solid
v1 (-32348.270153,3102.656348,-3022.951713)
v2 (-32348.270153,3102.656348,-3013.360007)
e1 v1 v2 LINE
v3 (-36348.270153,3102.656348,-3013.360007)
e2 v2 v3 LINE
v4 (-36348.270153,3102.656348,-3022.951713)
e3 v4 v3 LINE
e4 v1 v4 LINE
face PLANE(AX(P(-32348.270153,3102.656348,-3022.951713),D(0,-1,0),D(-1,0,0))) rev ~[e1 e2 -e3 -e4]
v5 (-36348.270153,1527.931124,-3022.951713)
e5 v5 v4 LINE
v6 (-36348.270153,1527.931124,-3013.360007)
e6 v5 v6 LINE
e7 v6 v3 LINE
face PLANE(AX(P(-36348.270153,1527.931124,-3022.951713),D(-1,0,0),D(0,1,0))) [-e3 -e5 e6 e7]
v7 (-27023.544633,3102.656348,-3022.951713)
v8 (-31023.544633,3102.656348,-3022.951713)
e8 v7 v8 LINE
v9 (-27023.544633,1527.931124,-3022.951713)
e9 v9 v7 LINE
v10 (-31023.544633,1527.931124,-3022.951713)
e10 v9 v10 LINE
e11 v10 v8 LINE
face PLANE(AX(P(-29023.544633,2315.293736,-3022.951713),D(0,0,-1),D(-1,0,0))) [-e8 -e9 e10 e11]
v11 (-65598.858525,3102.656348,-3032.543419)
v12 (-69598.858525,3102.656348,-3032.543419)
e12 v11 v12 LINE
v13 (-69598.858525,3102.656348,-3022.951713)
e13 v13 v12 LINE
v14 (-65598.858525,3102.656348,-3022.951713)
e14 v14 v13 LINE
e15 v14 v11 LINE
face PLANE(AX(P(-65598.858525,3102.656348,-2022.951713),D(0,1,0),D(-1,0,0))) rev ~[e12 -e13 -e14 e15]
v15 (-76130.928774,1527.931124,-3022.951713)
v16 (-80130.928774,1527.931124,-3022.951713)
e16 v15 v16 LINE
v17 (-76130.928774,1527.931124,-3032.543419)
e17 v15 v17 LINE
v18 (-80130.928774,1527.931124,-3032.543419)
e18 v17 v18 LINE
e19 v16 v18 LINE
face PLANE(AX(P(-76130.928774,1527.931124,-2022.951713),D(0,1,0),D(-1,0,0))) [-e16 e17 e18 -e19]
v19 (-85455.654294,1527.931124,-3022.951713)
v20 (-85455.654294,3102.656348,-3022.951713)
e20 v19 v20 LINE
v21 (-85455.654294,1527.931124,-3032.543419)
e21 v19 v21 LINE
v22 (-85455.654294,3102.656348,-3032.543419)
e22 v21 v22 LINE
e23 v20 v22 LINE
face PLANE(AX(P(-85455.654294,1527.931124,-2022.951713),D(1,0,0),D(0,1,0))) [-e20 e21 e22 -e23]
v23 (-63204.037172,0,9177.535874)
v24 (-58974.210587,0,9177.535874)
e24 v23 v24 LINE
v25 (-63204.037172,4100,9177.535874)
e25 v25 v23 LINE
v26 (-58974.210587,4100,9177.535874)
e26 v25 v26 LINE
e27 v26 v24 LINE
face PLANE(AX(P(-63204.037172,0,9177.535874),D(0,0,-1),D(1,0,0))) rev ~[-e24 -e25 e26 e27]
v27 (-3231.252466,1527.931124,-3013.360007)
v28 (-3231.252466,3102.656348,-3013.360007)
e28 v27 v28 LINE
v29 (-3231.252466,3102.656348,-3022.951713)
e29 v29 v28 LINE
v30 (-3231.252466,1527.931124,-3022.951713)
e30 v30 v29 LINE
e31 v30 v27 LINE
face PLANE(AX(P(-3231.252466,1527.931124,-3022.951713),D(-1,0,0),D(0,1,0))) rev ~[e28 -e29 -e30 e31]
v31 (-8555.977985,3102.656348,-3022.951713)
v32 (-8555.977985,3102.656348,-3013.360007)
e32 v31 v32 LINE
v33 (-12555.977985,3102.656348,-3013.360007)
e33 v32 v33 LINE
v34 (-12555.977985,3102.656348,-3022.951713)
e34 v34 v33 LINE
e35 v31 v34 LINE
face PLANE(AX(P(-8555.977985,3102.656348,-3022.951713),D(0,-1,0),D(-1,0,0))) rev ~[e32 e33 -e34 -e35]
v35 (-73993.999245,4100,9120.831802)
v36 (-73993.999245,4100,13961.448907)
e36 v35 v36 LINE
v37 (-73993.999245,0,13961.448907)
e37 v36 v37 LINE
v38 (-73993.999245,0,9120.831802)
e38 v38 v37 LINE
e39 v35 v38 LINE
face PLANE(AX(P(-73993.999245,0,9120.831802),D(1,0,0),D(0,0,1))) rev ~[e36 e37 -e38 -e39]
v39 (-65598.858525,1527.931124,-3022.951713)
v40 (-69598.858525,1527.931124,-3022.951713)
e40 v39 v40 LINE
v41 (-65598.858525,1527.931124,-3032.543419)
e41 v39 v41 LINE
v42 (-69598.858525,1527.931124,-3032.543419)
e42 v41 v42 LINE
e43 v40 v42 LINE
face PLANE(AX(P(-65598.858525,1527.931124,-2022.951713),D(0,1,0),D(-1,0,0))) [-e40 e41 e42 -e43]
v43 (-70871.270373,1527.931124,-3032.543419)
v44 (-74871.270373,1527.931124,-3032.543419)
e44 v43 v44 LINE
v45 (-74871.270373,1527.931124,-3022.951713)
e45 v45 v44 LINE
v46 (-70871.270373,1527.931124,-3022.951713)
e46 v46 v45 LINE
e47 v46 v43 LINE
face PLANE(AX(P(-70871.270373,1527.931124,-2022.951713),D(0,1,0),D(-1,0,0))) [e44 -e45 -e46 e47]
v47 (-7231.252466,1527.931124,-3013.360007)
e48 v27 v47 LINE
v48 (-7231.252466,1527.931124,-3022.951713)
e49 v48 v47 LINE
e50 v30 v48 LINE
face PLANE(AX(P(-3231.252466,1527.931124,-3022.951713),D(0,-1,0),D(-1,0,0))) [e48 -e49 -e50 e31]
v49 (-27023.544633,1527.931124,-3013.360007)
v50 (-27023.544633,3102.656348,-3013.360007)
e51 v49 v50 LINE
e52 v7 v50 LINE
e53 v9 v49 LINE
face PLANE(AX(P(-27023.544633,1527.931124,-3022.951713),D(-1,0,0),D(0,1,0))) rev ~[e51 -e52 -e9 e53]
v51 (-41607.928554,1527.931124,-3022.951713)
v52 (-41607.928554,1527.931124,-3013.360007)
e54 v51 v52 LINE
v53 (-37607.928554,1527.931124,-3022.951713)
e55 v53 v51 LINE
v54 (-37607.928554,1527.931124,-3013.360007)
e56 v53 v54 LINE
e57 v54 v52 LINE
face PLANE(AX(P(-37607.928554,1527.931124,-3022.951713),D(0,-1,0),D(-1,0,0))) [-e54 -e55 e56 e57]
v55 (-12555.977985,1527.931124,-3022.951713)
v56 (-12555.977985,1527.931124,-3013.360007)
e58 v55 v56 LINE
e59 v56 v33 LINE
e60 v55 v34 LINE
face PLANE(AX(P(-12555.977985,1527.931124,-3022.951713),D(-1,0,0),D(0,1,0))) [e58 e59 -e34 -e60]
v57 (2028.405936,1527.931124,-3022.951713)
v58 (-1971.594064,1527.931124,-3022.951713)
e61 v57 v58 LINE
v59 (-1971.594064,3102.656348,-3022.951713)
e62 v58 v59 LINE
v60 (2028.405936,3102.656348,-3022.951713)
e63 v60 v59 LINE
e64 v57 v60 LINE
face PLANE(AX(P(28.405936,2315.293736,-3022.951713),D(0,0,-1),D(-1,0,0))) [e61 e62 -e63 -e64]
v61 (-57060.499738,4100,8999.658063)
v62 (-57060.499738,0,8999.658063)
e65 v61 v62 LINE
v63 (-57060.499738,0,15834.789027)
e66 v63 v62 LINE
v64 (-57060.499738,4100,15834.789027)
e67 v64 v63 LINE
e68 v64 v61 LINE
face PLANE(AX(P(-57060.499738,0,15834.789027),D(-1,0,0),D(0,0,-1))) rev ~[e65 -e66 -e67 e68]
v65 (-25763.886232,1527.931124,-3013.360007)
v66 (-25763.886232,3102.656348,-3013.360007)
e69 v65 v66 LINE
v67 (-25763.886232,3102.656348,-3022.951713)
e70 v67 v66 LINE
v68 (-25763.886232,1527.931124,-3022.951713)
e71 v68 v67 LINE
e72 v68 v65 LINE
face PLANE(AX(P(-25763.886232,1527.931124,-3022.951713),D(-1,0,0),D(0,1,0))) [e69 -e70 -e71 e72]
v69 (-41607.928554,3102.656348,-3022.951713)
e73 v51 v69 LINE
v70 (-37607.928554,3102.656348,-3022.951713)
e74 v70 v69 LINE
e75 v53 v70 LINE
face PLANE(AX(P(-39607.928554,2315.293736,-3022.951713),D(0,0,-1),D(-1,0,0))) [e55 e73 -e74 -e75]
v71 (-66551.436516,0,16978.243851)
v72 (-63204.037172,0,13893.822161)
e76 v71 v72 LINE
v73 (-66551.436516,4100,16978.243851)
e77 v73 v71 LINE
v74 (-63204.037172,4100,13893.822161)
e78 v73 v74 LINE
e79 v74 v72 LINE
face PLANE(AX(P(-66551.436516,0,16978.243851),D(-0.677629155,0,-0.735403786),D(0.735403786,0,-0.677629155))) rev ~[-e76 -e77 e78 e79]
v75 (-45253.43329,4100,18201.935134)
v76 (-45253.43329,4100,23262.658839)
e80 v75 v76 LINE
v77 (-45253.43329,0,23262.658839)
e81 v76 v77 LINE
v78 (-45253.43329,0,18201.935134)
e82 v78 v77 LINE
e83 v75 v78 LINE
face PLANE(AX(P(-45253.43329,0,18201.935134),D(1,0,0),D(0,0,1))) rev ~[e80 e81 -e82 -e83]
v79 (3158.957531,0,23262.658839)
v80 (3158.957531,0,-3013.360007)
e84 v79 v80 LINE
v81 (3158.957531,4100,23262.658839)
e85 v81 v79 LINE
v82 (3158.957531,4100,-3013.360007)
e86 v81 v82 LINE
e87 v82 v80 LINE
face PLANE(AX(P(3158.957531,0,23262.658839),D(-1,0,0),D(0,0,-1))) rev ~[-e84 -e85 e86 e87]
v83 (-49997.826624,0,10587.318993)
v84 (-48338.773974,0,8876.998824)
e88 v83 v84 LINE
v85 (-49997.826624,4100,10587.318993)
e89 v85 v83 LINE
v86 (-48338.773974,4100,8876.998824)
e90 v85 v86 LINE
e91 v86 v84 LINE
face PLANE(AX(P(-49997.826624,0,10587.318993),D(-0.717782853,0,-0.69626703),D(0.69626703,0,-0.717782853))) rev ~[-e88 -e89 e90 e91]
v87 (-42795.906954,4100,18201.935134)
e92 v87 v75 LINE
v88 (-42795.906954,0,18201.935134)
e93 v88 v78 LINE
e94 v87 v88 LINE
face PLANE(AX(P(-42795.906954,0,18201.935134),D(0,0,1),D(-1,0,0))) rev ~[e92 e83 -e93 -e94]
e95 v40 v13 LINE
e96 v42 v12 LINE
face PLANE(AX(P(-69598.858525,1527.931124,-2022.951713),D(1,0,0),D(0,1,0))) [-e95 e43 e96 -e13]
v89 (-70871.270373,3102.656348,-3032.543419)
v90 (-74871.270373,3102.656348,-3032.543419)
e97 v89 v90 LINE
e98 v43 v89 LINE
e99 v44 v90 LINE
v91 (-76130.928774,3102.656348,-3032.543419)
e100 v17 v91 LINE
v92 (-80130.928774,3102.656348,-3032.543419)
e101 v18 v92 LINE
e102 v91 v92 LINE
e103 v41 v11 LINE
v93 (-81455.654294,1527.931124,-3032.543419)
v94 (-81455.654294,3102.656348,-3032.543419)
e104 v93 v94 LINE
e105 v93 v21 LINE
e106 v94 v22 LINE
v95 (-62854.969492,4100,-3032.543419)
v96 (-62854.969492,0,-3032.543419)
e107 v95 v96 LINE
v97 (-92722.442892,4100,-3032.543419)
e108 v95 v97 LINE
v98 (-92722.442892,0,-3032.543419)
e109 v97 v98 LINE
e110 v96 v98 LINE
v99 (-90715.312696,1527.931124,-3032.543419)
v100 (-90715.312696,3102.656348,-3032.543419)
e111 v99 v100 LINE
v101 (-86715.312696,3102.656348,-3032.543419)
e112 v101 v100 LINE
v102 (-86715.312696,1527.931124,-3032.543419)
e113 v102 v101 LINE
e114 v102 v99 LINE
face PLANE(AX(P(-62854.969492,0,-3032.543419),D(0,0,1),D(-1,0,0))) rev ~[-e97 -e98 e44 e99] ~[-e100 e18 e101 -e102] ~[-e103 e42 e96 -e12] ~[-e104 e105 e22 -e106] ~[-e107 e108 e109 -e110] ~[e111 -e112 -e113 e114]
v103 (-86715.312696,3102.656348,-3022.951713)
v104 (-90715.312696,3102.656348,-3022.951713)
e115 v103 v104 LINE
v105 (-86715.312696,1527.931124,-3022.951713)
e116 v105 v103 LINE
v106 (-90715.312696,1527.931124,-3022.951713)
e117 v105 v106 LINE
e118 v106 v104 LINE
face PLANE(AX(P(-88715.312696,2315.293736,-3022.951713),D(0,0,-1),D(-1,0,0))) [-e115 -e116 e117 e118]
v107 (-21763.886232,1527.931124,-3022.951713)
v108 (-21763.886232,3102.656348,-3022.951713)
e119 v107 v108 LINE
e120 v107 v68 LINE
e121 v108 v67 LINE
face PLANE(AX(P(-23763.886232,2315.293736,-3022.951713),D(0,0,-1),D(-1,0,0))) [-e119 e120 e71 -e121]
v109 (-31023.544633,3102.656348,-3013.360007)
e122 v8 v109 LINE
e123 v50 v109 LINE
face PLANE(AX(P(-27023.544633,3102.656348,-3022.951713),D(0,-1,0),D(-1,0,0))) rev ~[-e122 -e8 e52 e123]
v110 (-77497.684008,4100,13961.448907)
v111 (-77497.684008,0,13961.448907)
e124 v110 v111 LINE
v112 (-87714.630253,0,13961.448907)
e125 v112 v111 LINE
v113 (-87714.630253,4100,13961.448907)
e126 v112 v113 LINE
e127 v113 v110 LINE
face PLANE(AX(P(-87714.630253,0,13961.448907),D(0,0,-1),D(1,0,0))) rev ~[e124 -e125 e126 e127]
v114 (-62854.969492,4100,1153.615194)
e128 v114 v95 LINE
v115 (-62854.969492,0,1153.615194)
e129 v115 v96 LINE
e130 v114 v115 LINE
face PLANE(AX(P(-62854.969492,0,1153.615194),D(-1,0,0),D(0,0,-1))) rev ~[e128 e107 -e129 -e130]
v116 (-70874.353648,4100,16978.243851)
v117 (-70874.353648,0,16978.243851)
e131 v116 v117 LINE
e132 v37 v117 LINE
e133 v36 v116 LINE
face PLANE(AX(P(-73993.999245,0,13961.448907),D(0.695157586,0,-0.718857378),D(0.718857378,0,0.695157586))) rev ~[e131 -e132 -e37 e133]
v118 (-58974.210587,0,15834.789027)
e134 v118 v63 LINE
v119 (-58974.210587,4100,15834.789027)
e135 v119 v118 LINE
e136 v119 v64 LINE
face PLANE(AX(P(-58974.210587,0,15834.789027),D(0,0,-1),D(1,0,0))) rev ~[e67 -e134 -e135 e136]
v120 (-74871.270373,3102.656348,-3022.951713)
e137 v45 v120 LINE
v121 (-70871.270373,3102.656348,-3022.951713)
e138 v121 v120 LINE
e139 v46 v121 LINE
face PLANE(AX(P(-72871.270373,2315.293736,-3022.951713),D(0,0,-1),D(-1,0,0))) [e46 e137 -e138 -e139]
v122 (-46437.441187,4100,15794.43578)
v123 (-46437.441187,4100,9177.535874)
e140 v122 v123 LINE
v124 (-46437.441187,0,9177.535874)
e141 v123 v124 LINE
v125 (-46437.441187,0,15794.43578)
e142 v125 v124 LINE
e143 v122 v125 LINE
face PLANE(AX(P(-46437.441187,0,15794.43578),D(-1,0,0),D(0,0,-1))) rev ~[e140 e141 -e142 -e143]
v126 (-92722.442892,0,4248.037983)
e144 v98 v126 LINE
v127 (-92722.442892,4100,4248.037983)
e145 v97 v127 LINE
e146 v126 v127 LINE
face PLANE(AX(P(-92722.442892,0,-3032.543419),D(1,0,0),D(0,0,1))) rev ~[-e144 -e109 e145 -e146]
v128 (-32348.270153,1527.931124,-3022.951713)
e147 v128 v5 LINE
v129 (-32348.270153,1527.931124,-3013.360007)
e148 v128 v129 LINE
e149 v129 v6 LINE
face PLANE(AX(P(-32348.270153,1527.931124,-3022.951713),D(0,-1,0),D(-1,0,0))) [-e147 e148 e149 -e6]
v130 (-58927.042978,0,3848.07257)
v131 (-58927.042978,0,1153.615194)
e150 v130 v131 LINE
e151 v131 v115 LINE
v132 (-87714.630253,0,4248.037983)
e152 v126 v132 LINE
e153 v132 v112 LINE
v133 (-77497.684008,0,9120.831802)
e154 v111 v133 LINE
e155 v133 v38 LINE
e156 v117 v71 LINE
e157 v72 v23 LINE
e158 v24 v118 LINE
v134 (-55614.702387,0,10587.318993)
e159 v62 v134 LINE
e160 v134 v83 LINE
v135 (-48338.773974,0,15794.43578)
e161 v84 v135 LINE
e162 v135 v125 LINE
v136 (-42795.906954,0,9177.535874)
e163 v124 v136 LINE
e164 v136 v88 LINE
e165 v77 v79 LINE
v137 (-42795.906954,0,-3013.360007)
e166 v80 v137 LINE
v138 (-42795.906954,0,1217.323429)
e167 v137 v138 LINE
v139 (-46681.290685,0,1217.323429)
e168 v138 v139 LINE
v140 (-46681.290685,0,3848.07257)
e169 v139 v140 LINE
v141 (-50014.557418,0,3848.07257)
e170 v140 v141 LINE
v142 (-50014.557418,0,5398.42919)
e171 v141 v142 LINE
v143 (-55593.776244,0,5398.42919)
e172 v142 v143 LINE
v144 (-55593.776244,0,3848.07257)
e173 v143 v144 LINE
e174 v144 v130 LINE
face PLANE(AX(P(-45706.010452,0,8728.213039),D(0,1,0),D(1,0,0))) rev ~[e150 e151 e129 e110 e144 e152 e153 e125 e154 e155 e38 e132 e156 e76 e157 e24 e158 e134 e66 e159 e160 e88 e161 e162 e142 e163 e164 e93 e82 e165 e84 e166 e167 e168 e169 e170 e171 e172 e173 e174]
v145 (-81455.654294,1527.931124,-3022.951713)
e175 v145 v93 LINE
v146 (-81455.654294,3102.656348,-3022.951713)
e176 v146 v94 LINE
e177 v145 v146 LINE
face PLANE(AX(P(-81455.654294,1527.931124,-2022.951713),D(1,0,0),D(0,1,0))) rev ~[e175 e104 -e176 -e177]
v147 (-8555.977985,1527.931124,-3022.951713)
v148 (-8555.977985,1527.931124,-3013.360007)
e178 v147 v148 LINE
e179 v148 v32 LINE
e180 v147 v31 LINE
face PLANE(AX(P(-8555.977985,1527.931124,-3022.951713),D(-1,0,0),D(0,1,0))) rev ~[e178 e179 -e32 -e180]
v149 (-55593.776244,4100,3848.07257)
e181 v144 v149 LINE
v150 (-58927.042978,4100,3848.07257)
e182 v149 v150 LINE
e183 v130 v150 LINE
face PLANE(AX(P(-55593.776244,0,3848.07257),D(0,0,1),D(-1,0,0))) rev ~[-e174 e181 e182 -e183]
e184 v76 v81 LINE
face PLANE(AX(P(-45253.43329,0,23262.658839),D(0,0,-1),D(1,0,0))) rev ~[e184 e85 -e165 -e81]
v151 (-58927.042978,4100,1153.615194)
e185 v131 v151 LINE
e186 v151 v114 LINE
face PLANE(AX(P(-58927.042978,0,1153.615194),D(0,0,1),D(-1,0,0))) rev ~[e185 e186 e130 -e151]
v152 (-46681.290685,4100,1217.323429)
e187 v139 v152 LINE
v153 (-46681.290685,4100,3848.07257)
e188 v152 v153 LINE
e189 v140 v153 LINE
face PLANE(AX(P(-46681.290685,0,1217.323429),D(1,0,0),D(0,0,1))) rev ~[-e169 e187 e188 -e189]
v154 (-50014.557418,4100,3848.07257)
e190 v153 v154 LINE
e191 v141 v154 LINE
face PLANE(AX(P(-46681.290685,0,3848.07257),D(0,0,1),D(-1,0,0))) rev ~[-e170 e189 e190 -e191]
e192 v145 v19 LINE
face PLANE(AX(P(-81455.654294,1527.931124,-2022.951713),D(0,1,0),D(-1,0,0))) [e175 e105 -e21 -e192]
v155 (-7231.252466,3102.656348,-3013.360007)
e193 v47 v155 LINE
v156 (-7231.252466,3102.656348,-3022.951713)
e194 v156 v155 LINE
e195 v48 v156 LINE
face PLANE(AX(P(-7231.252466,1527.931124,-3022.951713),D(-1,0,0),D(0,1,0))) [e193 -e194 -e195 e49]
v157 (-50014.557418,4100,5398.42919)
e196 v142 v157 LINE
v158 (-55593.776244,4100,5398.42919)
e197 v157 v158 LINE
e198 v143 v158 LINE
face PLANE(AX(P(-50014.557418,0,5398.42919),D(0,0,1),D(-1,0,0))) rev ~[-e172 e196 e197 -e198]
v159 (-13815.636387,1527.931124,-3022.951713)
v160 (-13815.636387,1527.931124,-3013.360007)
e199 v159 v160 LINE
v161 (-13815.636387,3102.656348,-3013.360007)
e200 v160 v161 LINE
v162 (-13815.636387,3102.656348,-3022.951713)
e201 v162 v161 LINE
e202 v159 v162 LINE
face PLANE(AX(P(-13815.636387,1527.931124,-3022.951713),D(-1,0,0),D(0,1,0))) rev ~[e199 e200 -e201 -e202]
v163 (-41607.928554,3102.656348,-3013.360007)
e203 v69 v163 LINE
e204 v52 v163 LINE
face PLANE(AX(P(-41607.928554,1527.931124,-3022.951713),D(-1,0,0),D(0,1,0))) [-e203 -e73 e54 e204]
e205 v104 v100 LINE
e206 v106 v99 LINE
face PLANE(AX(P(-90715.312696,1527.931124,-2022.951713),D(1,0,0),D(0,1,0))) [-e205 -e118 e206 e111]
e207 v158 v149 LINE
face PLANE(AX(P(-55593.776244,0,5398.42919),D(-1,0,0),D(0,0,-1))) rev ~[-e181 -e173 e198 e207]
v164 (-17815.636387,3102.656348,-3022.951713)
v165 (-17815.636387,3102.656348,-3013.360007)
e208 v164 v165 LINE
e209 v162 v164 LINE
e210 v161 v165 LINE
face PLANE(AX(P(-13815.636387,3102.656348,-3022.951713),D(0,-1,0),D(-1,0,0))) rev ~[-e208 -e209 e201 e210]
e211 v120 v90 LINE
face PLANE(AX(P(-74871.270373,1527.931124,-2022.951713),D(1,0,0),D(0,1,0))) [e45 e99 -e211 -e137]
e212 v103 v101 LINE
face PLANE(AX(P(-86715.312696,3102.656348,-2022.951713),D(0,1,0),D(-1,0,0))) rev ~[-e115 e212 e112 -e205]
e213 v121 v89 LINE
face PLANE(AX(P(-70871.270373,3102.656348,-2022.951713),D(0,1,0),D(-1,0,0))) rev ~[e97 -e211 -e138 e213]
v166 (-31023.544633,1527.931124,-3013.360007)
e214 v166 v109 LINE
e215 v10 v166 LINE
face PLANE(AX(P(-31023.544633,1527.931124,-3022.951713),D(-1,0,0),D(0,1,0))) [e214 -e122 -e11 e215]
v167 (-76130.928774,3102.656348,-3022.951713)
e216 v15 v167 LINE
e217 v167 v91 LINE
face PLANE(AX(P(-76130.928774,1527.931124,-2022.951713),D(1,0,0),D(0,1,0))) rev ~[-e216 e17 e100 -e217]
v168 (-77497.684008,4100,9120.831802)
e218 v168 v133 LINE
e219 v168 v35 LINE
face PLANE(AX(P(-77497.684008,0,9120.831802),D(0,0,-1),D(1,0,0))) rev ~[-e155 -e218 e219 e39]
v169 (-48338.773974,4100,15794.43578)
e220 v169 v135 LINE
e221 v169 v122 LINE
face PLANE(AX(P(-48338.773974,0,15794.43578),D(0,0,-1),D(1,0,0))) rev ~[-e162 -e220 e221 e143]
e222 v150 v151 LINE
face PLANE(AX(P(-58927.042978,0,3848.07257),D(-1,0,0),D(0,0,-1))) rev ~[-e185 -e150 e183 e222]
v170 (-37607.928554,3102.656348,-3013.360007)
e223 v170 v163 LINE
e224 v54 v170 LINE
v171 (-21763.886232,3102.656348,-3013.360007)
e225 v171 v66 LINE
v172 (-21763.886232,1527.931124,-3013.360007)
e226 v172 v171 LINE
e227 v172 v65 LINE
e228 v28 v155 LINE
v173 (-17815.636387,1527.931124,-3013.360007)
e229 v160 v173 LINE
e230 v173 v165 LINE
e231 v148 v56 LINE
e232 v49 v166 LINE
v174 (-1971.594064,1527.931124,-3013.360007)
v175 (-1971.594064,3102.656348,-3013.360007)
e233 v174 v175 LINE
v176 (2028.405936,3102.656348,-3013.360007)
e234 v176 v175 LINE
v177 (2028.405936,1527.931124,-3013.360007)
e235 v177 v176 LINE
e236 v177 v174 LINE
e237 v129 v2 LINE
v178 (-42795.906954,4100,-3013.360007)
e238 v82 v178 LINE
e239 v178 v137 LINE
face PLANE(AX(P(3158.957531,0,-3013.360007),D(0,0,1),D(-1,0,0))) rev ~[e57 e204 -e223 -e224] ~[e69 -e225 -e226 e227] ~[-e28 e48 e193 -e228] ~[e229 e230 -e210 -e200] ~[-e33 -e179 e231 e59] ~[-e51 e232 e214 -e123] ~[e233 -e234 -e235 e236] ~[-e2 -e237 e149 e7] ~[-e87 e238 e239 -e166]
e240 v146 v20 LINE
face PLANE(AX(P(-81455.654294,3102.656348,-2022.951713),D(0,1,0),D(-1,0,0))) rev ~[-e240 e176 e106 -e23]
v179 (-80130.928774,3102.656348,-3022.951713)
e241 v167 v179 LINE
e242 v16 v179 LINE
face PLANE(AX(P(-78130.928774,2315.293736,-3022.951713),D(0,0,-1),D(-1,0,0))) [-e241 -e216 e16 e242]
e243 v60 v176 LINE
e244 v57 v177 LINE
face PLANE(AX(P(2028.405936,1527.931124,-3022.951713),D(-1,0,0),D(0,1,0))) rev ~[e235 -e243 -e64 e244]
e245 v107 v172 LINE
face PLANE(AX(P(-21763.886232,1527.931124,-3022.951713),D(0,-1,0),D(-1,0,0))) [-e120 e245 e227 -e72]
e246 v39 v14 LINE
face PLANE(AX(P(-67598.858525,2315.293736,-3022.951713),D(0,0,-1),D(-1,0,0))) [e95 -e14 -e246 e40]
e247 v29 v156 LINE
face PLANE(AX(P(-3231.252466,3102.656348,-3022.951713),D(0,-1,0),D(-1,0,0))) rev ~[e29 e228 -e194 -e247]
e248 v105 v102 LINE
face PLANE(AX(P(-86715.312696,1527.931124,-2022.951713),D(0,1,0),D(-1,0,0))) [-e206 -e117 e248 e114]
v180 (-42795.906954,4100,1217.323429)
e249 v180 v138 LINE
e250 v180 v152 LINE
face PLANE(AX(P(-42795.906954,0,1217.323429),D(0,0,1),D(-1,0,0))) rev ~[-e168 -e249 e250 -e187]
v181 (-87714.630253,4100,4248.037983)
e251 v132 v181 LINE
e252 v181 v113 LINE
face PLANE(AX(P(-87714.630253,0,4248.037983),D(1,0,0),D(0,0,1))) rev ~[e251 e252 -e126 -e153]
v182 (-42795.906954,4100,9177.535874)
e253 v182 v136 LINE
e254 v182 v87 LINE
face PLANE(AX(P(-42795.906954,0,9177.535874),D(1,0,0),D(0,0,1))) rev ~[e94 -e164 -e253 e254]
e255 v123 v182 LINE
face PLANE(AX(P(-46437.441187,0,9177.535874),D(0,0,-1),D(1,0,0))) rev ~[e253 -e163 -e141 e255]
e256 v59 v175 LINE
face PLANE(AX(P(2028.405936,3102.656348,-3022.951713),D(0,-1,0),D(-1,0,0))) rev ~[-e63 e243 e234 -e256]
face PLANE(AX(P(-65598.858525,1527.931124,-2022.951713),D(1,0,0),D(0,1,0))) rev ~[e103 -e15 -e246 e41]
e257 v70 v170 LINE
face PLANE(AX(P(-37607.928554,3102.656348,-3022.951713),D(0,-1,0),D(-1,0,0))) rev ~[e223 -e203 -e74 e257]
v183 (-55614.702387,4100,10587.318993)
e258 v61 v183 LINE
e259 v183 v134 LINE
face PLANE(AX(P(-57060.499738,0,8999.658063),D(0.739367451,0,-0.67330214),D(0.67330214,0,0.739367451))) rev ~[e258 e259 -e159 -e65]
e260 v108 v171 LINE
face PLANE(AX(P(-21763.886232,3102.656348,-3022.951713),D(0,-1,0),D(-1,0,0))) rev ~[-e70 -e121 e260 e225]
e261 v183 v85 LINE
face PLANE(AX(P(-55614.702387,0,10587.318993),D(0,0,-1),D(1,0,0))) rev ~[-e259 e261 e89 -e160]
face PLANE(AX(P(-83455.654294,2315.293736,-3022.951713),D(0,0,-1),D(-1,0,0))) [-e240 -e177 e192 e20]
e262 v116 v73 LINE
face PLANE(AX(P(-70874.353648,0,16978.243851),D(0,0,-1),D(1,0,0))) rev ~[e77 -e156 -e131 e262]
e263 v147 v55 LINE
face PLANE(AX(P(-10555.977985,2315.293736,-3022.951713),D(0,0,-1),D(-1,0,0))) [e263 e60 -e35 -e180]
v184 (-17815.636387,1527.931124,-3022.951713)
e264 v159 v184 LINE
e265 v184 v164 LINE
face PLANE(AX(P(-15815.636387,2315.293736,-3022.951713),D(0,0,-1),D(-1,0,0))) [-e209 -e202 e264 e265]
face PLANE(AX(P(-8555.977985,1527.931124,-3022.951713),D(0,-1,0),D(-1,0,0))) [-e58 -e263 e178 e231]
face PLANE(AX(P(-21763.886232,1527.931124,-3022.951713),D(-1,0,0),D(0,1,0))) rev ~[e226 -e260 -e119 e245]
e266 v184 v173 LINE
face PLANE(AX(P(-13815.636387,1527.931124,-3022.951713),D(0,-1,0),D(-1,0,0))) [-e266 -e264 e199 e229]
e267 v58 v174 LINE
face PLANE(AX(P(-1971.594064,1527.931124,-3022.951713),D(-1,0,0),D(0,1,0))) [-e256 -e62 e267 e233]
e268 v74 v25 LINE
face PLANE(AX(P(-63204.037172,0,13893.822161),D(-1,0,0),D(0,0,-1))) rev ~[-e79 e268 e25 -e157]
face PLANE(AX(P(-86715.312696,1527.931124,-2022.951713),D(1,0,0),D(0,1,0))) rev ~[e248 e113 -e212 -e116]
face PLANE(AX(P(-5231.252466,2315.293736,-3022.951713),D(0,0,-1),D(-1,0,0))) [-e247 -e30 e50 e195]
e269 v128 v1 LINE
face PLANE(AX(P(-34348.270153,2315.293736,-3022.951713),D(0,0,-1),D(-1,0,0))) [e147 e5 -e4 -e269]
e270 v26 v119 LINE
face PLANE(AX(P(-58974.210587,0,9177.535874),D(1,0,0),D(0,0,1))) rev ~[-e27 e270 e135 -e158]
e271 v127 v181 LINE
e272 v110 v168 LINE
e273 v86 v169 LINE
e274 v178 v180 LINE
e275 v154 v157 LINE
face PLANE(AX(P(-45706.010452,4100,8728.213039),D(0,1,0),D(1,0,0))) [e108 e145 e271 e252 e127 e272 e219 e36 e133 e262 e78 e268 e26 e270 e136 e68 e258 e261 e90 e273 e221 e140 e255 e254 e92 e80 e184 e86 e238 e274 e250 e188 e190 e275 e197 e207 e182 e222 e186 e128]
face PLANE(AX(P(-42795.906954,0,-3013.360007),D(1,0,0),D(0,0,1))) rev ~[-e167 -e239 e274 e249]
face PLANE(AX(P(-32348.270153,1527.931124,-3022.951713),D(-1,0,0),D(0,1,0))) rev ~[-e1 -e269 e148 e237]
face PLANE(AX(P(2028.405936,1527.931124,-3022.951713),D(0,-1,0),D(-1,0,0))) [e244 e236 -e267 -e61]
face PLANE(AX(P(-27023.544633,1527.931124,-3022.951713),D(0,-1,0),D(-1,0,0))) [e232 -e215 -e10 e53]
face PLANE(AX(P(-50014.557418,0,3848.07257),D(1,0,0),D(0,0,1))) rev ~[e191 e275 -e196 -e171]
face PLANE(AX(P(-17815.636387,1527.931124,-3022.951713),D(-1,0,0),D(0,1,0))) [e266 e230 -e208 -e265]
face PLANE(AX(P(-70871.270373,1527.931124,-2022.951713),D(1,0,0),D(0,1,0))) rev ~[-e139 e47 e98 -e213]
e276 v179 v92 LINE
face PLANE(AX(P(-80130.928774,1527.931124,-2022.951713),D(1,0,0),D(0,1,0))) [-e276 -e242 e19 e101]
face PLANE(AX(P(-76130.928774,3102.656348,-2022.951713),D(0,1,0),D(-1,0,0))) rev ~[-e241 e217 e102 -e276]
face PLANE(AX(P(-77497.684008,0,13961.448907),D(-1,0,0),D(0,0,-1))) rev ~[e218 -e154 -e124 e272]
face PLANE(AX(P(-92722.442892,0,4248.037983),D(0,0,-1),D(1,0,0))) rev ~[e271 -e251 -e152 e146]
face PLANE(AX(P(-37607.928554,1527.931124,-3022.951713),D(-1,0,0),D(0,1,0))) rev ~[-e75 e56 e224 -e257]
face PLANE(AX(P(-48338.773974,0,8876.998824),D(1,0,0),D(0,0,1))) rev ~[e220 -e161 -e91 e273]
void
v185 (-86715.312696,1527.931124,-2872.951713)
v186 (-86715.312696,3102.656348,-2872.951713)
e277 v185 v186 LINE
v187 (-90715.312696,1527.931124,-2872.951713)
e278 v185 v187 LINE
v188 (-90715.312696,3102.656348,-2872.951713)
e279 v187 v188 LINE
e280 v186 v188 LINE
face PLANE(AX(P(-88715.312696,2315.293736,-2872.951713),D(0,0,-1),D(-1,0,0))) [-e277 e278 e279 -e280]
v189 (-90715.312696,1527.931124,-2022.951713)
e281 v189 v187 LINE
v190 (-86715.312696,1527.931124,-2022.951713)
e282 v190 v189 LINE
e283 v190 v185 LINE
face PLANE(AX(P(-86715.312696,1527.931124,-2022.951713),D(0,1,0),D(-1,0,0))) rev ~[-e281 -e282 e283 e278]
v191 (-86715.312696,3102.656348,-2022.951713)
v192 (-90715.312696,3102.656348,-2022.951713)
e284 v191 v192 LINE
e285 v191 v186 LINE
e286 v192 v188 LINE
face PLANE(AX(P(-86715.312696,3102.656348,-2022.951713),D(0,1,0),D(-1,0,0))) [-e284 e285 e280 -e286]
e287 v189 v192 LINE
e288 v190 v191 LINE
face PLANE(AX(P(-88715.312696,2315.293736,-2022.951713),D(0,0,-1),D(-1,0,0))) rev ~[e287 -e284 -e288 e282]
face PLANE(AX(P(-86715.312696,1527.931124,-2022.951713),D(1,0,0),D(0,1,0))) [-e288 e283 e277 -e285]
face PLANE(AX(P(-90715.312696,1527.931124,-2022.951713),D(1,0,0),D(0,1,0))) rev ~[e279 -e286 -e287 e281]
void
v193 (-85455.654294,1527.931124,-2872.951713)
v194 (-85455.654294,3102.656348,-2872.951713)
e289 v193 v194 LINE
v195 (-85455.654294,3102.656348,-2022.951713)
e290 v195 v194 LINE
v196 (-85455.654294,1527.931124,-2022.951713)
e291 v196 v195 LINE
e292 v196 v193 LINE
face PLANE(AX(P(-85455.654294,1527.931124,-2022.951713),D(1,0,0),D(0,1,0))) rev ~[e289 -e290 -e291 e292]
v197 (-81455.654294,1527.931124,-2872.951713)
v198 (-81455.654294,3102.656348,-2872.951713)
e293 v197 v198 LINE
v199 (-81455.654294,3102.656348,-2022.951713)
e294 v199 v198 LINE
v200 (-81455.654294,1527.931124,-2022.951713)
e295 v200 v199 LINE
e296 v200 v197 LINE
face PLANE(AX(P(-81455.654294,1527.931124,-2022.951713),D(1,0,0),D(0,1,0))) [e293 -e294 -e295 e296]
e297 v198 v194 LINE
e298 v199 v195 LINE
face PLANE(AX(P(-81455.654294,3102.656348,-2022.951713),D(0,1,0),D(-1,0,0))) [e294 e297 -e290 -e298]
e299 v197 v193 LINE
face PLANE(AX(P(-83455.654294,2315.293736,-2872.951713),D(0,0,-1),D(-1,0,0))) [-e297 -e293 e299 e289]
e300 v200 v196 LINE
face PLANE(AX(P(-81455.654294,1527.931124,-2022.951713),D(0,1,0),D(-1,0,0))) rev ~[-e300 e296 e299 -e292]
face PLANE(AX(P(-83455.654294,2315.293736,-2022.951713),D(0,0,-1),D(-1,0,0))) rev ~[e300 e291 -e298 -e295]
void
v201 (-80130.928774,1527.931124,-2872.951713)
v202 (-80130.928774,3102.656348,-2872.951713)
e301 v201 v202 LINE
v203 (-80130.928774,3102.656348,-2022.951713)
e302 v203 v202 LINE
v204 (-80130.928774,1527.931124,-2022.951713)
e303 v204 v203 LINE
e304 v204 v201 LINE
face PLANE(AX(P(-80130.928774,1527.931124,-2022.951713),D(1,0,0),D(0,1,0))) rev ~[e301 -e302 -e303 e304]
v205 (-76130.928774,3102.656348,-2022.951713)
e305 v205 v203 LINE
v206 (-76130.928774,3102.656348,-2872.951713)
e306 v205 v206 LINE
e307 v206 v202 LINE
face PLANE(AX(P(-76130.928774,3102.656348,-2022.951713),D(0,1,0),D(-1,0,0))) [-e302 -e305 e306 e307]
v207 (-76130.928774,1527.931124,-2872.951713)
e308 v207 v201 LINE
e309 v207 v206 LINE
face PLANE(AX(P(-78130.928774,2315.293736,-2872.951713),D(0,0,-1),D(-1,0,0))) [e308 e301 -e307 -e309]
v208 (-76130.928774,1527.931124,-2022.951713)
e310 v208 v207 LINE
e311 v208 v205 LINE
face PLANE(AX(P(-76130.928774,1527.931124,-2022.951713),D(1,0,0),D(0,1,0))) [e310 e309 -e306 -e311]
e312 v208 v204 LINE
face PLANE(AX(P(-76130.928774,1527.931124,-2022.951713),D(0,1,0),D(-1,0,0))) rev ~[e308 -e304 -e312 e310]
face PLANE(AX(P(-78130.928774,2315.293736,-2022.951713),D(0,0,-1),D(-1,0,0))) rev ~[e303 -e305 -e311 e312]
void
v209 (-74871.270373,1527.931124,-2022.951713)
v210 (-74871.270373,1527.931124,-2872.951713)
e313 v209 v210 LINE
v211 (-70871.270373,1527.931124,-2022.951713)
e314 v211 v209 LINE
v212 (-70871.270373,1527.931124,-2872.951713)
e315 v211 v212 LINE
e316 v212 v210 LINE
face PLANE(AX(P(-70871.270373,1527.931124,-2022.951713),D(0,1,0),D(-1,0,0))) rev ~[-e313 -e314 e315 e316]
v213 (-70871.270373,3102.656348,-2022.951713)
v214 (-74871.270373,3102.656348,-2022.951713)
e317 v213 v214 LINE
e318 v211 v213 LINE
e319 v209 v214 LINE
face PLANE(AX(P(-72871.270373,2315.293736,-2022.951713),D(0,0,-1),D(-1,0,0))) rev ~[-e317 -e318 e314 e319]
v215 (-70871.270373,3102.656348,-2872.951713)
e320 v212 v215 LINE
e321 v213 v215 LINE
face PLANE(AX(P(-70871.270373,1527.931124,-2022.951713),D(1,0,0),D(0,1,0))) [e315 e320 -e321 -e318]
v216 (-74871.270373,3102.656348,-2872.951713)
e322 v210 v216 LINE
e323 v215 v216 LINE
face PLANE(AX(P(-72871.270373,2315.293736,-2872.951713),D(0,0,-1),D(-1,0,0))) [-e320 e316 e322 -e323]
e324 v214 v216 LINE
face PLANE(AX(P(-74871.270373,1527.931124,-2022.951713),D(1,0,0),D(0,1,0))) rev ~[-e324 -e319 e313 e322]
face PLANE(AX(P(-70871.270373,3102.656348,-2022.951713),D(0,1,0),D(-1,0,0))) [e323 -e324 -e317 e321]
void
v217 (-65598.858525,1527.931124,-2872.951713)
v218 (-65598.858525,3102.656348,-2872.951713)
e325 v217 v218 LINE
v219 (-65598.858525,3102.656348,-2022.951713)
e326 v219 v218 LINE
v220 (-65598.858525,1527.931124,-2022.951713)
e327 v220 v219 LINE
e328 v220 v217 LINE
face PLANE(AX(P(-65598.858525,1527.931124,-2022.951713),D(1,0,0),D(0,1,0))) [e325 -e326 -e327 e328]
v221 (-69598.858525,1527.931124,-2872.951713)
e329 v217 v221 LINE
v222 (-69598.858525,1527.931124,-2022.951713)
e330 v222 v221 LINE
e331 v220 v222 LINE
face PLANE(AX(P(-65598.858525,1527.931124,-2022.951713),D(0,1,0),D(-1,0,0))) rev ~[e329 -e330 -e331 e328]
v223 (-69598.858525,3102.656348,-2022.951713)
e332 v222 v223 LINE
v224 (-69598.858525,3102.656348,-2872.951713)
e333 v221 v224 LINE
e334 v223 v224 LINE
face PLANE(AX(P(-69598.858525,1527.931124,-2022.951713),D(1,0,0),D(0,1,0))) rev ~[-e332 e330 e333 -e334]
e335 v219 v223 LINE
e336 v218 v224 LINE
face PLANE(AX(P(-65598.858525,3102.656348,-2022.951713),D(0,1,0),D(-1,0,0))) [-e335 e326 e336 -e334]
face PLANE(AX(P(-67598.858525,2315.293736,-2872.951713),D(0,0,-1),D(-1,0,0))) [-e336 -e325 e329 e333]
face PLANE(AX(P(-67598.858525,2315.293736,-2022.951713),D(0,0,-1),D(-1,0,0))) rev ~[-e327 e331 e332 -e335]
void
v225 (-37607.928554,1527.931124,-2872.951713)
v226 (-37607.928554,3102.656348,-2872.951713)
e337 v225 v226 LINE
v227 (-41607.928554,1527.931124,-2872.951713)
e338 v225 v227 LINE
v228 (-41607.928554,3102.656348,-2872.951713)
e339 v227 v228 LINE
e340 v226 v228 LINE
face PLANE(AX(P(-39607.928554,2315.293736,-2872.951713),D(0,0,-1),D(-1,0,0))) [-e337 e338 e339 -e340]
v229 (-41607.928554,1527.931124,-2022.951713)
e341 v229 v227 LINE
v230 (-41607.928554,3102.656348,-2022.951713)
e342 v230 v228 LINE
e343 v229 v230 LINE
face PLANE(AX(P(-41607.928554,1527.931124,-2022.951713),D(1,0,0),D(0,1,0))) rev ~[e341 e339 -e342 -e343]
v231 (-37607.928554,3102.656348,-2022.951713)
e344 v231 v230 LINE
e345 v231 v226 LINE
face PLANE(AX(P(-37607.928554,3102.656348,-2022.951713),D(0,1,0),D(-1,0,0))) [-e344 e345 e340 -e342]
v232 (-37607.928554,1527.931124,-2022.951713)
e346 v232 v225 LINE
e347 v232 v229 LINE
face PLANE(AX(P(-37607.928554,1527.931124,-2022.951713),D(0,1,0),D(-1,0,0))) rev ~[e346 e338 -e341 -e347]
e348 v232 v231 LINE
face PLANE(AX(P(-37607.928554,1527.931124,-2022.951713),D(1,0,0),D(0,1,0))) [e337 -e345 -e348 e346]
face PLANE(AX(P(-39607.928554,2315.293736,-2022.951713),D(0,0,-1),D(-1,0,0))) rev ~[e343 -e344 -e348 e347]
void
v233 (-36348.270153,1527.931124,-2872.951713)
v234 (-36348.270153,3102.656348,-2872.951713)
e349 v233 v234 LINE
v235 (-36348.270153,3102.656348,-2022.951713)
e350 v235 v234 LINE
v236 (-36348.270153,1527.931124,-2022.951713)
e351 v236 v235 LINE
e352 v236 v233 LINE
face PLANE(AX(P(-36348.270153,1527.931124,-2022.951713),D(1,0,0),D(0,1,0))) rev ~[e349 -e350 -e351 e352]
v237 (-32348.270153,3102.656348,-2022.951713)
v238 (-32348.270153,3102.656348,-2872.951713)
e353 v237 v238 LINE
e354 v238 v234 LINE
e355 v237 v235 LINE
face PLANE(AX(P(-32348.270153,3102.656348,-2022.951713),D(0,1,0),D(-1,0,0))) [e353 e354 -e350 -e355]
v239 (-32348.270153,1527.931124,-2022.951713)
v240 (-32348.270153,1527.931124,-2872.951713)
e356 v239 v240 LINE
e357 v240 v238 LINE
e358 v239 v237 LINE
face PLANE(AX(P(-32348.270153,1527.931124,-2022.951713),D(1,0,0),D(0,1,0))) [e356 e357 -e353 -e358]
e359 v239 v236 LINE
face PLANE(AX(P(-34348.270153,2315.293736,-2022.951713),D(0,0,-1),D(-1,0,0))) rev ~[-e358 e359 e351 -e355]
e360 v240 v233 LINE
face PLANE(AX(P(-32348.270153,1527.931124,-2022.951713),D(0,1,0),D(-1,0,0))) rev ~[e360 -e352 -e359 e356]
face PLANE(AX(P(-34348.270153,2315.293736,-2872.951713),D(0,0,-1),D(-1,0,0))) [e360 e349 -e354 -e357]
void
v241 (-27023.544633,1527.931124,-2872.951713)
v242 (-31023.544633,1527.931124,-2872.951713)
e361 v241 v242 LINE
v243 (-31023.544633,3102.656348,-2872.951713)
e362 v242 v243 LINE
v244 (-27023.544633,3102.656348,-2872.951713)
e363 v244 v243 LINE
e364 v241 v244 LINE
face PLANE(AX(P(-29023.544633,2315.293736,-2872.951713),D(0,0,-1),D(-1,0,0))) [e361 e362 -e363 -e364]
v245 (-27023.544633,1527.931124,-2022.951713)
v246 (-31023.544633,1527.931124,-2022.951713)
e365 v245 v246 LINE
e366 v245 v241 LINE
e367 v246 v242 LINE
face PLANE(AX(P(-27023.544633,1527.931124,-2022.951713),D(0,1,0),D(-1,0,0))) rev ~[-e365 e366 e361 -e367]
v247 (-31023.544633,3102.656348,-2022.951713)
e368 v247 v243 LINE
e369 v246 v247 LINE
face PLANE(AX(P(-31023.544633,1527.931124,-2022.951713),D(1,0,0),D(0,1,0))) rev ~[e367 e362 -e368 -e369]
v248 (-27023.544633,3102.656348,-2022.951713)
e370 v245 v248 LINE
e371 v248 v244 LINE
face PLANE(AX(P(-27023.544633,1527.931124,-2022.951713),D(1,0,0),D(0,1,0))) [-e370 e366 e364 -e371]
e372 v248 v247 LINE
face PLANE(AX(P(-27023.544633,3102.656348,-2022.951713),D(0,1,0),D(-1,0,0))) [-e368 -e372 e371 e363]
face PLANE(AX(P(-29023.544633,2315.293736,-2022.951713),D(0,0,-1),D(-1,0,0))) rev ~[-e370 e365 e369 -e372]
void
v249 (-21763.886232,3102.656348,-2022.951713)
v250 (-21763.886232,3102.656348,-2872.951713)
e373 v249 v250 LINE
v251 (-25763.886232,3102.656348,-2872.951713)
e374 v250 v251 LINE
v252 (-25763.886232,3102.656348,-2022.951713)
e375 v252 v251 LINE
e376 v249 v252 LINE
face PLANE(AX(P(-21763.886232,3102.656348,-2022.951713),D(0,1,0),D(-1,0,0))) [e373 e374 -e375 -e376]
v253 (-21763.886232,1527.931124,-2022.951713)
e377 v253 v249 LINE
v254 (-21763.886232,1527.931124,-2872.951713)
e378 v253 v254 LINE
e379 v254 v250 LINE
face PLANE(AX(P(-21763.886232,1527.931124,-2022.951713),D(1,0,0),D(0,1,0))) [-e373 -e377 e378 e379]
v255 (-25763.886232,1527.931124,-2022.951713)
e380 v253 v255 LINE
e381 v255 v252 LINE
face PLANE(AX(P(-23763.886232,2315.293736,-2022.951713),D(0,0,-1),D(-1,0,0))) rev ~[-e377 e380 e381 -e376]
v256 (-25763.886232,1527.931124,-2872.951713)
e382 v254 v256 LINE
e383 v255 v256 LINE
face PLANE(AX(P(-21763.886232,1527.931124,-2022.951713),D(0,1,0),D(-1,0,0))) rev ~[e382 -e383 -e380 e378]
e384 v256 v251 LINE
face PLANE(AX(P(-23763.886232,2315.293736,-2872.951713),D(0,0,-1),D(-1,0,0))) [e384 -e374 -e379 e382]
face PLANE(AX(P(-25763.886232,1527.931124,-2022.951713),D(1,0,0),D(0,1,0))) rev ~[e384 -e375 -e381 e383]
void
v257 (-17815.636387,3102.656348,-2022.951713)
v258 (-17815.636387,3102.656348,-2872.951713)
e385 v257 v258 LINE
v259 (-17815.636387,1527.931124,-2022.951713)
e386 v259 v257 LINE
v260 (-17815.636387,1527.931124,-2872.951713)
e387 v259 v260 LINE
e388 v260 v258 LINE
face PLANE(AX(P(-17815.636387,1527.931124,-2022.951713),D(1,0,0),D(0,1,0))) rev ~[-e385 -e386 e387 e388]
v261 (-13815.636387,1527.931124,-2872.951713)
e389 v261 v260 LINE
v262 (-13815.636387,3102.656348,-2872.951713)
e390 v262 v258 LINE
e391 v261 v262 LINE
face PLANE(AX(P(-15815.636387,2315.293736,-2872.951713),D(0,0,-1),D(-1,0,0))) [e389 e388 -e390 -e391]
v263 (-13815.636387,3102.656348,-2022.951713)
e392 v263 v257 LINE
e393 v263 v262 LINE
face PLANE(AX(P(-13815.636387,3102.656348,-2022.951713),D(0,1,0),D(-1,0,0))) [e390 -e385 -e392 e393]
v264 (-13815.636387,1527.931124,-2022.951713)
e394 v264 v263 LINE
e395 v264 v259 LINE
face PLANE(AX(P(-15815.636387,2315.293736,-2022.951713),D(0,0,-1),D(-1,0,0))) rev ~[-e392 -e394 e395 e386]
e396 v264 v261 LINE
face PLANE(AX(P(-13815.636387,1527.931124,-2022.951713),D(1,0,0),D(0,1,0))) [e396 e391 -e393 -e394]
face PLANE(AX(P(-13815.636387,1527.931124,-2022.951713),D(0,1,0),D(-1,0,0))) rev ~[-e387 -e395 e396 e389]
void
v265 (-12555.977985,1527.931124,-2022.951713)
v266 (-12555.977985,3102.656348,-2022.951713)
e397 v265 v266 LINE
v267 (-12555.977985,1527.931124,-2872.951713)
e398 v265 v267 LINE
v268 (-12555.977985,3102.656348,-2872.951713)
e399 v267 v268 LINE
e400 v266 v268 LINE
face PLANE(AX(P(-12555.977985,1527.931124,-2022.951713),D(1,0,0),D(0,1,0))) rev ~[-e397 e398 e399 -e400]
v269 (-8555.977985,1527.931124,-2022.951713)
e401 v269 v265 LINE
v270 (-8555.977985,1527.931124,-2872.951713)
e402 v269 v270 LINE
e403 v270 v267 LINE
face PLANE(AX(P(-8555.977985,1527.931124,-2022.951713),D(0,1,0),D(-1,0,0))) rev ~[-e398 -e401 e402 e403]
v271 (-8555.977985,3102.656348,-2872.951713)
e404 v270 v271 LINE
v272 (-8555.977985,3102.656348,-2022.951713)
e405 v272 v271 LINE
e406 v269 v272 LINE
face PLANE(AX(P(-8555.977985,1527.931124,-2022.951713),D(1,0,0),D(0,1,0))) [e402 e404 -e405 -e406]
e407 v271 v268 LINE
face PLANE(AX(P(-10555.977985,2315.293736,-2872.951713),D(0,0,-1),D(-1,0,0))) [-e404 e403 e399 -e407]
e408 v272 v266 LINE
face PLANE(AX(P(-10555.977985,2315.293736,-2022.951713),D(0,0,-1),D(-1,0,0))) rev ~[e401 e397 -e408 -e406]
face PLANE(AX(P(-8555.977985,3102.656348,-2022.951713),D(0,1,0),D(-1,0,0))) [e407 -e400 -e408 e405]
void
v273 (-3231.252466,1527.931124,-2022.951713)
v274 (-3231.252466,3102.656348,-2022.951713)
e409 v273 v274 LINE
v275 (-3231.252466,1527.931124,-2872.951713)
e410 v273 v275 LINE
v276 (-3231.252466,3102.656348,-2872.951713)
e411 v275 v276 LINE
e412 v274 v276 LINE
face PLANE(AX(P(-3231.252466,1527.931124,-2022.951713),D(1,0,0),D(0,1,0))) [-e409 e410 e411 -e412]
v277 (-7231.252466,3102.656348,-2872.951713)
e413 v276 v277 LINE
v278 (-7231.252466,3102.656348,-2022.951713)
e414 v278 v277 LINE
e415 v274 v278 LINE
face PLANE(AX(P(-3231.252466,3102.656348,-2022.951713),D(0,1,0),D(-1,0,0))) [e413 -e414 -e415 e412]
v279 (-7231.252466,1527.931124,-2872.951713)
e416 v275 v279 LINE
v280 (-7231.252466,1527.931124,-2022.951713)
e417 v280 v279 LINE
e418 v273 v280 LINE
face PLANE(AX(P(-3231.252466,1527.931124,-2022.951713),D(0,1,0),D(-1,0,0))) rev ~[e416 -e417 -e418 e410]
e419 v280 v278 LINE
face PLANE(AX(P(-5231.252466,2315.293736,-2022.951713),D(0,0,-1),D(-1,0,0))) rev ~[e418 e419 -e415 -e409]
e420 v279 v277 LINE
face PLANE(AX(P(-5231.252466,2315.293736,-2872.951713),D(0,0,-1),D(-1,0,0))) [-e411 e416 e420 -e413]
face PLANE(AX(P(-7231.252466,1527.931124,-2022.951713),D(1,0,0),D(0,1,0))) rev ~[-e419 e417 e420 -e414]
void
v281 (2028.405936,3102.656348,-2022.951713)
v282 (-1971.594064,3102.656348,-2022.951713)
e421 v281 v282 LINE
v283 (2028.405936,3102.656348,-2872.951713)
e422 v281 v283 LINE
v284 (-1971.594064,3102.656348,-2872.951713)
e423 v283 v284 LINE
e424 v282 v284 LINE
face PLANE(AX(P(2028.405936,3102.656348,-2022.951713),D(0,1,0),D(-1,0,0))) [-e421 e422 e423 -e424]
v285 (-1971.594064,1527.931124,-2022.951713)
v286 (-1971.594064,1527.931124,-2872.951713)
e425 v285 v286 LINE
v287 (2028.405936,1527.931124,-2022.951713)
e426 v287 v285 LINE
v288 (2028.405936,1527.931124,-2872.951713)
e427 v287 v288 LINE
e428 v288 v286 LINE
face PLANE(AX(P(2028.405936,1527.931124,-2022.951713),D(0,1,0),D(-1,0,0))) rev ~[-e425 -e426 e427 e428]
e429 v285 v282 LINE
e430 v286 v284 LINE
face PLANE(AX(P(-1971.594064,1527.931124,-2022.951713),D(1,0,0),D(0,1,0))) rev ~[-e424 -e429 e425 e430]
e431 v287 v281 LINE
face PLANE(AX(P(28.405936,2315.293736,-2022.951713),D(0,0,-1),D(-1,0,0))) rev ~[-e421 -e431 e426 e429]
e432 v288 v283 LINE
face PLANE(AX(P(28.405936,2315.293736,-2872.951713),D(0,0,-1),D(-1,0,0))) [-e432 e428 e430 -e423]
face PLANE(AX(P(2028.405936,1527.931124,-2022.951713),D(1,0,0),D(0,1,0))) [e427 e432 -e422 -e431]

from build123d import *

# Parameters (mm, degrees)
BOSS_EXTRUDE1_DEPTH     = 4100
CUT_EXTRUDE2_DEPTH      = 360
CUT_EXTRUDE2_DEPTH_BACK = 1000
SKETCH8_W               = 4000
SKETCH8_H               = 1574.725224171
BOSS_EXTRUDE2_DEPTH     = 400
SKETCH10_W              = 4000
SKETCH10_H              = 1574.725224171
BOSS_EXTRUDE3_DEPTH     = 150


with BuildPart() as part:
    # Sketch5 → Boss-Extrude1 (new body)
    with BuildSketch(Plane(origin=(0, 0, 0), x_dir=(1, 0, 0), z_dir=(0, 1, 0))):
        Polygon((-92722.442891537, 3032.5434193), (-92722.442891537, -4248.037983208), (-87714.630252684, -4248.037983208), (-87714.630252684, -13961.448907134), (-77497.684007523, -13961.448907134), (-77497.684007523, -9120.831801635), (-73993.999245447, -9120.831801635), (-73993.999245447, -13961.448907134), (-70874.353647814, -16978.243851345), (-66551.436516177, -16978.243851345), (-63204.037171957, -13893.822161368), (-63204.037171957, -9177.535874451), (-58974.210587207, -9177.535874451), (-58974.210587207, -15834.789027484), (-57060.499737676, -15834.789027484), (-57060.499737676, -8999.658062996), (-55614.702387222, -10587.318993272), (-49997.826624289, -10587.318993272), (-48338.773974021, -8876.998824422), (-48338.773974021, -15794.435779887), (-46437.441187314, -15794.435779887), (-46437.441187314, -9177.535874451), (-42795.906953804, -9177.535874451), (-42795.906953804, -18201.935134033), (-45253.433289974, -18201.935134033), (-45253.433289974, -23262.658838668), (3158.957531363, -23262.658838668), (3158.957531363, 3013.360006537), (-42795.906953804, 3013.360006537), (-42795.906953804, -1217.323428695), (-46681.290684555, -1217.323428695), (-46681.290684555, -3848.072569742), (-50014.557417966, -3848.072569742), (-50014.557417966, -5398.429189933), (-55593.77624448, -5398.429189933), (-55593.77624448, -3848.072569742), (-58927.042977891, -3848.072569742), (-58927.042977891, -1153.615193648), (-62854.969491775, -1153.615193648), (-62854.969491775, 3032.5434193), align=None)
    extrude(amount=BOSS_EXTRUDE1_DEPTH)

    # Sketch8 → Cut-Extrude2 (cut, two sides: drawn at the far end of the back side and taken through both)
    with BuildSketch(Plane(origin=(0, 0, -3022.951712918), x_dir=(-1, 0, 0), z_dir=(0, 0, -1)).offset(-CUT_EXTRUDE2_DEPTH_BACK)):
        with Locations((5231.252465647, 2315.293735901)):
            Rectangle(SKETCH8_W, SKETCH8_H)
        with Locations((-28.405935853, 2315.293735901)):
            Rectangle(SKETCH8_W, SKETCH8_H)
        with Locations((15815.636386773, 2315.293735901)):
            Rectangle(SKETCH8_W, SKETCH8_H)
        with Locations((10555.977985272, 2315.293735901)):
            Rectangle(SKETCH8_W, SKETCH8_H)
        with Locations((23763.886231613, 2315.293735901)):
            Rectangle(SKETCH8_W, SKETCH8_H)
        with Locations((39607.928554239, 2315.293735901)):
            Rectangle(SKETCH8_W, SKETCH8_H)
        with Locations((29023.544633113, 2315.293735901)):
            Rectangle(SKETCH8_W, SKETCH8_H)
        with Locations((34348.270152738, 2315.293735901)):
            Rectangle(SKETCH8_W, SKETCH8_H)
        with Locations((72871.270372947, 2315.293735901)):
            Rectangle(SKETCH8_W, SKETCH8_H)
        with Locations((83455.654294073, 2315.293735901)):
            Rectangle(SKETCH8_W, SKETCH8_H)
        with Locations((88715.312695573, 2315.293735901)):
            Rectangle(SKETCH8_W, SKETCH8_H)
        with Locations((78130.928774448, 2315.293735901)):
            Rectangle(SKETCH8_W, SKETCH8_H)
        with Locations((67598.858524863, 2315.293735901)):
            Rectangle(SKETCH8_W, SKETCH8_H)
    extrude(amount=CUT_EXTRUDE2_DEPTH + CUT_EXTRUDE2_DEPTH_BACK, mode=Mode.SUBTRACT)

    # Sketch11 → Boss-Extrude2 (add)
    with BuildSketch(Plane(origin=(0, 4100, 0), x_dir=(1, 0, 0), z_dir=(0, 1, 0))):
        Polygon((-92722.442891537, 3032.5434193), (-92722.442891537, -4248.037983208), (-87714.630252684, -4248.037983208), (-87714.630252684, -13961.448907134), (-77497.684007523, -13961.448907134), (-77497.684007523, -9120.831801635), (-73993.999245447, -9120.831801635), (-73993.999245447, -13961.448907134), (-70874.353647814, -16978.243851345), (-66551.436516177, -16978.243851345), (-63204.037171957, -13893.822161368), (-63204.037171957, -9177.535874451), (-58974.210587207, -9177.535874451), (-58974.210587207, -15834.789027484), (-57060.499737676, -15834.789027484), (-57060.499737676, -8999.658062996), (-55614.702387222, -10587.318993272), (-49997.826624289, -10587.318993272), (-48338.773974021, -8876.998824422), (-48338.773974021, -15794.435779887), (-46437.441187314, -15794.435779887), (-46437.441187314, -9177.535874451), (-42795.906953804, -9177.535874451), (-42795.906953804, -18201.935134033), (-45253.433289974, -18201.935134033), (-45253.433289974, -23262.658838668), (3158.957531363, -23262.658838668), (3158.957531363, 3013.360006537), (-42795.906953804, 3013.360006537), (-42795.906953804, -1217.323428695), (-44543.949233842, -1217.323428695), (-46460.002030968, -1217.323428695), (-46460.002030968, -4121.47924984), (-49725.652353067, -4121.47924984), (-49725.652353067, -5665.367364151), (-55960.882280047, -5665.367364151), (-55960.882280047, -4121.47924984), (-59226.532602146, -4121.47924984), (-59226.532602146, -1153.615193648), (-61139.275030104, -1153.615193648), (-62854.969491775, -1153.615193648), (-62854.969491775, 3032.5434193), align=None)
        with BuildLine():
            Line((-62020.014054855, -5163.687596874), (-62020.014054855, -5388.888998251))
            Line((-62020.014054855, -5388.888998251), (-61911.509537571, -5388.888998251))
            Line((-61911.509537571, -5388.888998251), (-61911.509537571, -5437.542435503))
            Line((-61911.509537571, -5437.542435503), (-61719.175469751, -5437.542435503))
            Line((-61719.175469751, -5437.542435503), (-61719.175469751, -5388.888998251))
            Line((-61719.175469751, -5388.888998251), (-61612.078613853, -5388.888998251))
            Line((-61612.078613853, -5388.888998251), (-61612.078613853, -5163.687596874))
            ThreePointArc((-61612.078613853, -5163.687596874), (-61626.723274794, -5128.332257815), (-61662.078613853, -5113.687596874))
            Line((-61662.078613853, -5113.687596874), (-61970.014054855, -5113.687596874))
            ThreePointArc((-61970.014054855, -5113.687596874), (-62005.369393914, -5128.332257815), (-62020.014054855, -5163.687596874))
        make_face(mode=Mode.SUBTRACT)
    extrude(amount=-BOSS_EXTRUDE2_DEPTH)

    # Sketch10 → Boss-Extrude3 (add)
    with BuildSketch(Plane(origin=(0, 0, -3022.951712918), x_dir=(-1, 0, 0), z_dir=(0, 0, -1))):
        with Locations((5231.252465647, 2315.293735901)):
            Rectangle(SKETCH10_W, SKETCH10_H)
        with Locations((-28.405935853, 2315.293735901)):
            Rectangle(SKETCH10_W, SKETCH10_H)
        with Locations((15815.636386773, 2315.293735901)):
            Rectangle(SKETCH10_W, SKETCH10_H)
        with Locations((10555.977985272, 2315.293735901)):
            Rectangle(SKETCH10_W, SKETCH10_H)
        with Locations((23763.886231613, 2315.293735901)):
            Rectangle(SKETCH10_W, SKETCH10_H)
        with Locations((39607.928554239, 2315.293735901)):
            Rectangle(SKETCH10_W, SKETCH10_H)
        with Locations((29023.544633113, 2315.293735901)):
            Rectangle(SKETCH10_W, SKETCH10_H)
        with Locations((34348.270152738, 2315.293735901)):
            Rectangle(SKETCH10_W, SKETCH10_H)
        with Locations((72871.270372947, 2315.293735901)):
            Rectangle(SKETCH10_W, SKETCH10_H)
        with Locations((83455.654294073, 2315.293735901)):
            Rectangle(SKETCH10_W, SKETCH10_H)
        with Locations((88715.312695573, 2315.293735901)):
            Rectangle(SKETCH10_W, SKETCH10_H)
        with Locations((78130.928774448, 2315.293735901)):
            Rectangle(SKETCH10_W, SKETCH10_H)
        with Locations((67598.858524863, 2315.293735901)):
            Rectangle(SKETCH10_W, SKETCH10_H)
    extrude(amount=-BOSS_EXTRUDE3_DEPTH)


solid = part.part
